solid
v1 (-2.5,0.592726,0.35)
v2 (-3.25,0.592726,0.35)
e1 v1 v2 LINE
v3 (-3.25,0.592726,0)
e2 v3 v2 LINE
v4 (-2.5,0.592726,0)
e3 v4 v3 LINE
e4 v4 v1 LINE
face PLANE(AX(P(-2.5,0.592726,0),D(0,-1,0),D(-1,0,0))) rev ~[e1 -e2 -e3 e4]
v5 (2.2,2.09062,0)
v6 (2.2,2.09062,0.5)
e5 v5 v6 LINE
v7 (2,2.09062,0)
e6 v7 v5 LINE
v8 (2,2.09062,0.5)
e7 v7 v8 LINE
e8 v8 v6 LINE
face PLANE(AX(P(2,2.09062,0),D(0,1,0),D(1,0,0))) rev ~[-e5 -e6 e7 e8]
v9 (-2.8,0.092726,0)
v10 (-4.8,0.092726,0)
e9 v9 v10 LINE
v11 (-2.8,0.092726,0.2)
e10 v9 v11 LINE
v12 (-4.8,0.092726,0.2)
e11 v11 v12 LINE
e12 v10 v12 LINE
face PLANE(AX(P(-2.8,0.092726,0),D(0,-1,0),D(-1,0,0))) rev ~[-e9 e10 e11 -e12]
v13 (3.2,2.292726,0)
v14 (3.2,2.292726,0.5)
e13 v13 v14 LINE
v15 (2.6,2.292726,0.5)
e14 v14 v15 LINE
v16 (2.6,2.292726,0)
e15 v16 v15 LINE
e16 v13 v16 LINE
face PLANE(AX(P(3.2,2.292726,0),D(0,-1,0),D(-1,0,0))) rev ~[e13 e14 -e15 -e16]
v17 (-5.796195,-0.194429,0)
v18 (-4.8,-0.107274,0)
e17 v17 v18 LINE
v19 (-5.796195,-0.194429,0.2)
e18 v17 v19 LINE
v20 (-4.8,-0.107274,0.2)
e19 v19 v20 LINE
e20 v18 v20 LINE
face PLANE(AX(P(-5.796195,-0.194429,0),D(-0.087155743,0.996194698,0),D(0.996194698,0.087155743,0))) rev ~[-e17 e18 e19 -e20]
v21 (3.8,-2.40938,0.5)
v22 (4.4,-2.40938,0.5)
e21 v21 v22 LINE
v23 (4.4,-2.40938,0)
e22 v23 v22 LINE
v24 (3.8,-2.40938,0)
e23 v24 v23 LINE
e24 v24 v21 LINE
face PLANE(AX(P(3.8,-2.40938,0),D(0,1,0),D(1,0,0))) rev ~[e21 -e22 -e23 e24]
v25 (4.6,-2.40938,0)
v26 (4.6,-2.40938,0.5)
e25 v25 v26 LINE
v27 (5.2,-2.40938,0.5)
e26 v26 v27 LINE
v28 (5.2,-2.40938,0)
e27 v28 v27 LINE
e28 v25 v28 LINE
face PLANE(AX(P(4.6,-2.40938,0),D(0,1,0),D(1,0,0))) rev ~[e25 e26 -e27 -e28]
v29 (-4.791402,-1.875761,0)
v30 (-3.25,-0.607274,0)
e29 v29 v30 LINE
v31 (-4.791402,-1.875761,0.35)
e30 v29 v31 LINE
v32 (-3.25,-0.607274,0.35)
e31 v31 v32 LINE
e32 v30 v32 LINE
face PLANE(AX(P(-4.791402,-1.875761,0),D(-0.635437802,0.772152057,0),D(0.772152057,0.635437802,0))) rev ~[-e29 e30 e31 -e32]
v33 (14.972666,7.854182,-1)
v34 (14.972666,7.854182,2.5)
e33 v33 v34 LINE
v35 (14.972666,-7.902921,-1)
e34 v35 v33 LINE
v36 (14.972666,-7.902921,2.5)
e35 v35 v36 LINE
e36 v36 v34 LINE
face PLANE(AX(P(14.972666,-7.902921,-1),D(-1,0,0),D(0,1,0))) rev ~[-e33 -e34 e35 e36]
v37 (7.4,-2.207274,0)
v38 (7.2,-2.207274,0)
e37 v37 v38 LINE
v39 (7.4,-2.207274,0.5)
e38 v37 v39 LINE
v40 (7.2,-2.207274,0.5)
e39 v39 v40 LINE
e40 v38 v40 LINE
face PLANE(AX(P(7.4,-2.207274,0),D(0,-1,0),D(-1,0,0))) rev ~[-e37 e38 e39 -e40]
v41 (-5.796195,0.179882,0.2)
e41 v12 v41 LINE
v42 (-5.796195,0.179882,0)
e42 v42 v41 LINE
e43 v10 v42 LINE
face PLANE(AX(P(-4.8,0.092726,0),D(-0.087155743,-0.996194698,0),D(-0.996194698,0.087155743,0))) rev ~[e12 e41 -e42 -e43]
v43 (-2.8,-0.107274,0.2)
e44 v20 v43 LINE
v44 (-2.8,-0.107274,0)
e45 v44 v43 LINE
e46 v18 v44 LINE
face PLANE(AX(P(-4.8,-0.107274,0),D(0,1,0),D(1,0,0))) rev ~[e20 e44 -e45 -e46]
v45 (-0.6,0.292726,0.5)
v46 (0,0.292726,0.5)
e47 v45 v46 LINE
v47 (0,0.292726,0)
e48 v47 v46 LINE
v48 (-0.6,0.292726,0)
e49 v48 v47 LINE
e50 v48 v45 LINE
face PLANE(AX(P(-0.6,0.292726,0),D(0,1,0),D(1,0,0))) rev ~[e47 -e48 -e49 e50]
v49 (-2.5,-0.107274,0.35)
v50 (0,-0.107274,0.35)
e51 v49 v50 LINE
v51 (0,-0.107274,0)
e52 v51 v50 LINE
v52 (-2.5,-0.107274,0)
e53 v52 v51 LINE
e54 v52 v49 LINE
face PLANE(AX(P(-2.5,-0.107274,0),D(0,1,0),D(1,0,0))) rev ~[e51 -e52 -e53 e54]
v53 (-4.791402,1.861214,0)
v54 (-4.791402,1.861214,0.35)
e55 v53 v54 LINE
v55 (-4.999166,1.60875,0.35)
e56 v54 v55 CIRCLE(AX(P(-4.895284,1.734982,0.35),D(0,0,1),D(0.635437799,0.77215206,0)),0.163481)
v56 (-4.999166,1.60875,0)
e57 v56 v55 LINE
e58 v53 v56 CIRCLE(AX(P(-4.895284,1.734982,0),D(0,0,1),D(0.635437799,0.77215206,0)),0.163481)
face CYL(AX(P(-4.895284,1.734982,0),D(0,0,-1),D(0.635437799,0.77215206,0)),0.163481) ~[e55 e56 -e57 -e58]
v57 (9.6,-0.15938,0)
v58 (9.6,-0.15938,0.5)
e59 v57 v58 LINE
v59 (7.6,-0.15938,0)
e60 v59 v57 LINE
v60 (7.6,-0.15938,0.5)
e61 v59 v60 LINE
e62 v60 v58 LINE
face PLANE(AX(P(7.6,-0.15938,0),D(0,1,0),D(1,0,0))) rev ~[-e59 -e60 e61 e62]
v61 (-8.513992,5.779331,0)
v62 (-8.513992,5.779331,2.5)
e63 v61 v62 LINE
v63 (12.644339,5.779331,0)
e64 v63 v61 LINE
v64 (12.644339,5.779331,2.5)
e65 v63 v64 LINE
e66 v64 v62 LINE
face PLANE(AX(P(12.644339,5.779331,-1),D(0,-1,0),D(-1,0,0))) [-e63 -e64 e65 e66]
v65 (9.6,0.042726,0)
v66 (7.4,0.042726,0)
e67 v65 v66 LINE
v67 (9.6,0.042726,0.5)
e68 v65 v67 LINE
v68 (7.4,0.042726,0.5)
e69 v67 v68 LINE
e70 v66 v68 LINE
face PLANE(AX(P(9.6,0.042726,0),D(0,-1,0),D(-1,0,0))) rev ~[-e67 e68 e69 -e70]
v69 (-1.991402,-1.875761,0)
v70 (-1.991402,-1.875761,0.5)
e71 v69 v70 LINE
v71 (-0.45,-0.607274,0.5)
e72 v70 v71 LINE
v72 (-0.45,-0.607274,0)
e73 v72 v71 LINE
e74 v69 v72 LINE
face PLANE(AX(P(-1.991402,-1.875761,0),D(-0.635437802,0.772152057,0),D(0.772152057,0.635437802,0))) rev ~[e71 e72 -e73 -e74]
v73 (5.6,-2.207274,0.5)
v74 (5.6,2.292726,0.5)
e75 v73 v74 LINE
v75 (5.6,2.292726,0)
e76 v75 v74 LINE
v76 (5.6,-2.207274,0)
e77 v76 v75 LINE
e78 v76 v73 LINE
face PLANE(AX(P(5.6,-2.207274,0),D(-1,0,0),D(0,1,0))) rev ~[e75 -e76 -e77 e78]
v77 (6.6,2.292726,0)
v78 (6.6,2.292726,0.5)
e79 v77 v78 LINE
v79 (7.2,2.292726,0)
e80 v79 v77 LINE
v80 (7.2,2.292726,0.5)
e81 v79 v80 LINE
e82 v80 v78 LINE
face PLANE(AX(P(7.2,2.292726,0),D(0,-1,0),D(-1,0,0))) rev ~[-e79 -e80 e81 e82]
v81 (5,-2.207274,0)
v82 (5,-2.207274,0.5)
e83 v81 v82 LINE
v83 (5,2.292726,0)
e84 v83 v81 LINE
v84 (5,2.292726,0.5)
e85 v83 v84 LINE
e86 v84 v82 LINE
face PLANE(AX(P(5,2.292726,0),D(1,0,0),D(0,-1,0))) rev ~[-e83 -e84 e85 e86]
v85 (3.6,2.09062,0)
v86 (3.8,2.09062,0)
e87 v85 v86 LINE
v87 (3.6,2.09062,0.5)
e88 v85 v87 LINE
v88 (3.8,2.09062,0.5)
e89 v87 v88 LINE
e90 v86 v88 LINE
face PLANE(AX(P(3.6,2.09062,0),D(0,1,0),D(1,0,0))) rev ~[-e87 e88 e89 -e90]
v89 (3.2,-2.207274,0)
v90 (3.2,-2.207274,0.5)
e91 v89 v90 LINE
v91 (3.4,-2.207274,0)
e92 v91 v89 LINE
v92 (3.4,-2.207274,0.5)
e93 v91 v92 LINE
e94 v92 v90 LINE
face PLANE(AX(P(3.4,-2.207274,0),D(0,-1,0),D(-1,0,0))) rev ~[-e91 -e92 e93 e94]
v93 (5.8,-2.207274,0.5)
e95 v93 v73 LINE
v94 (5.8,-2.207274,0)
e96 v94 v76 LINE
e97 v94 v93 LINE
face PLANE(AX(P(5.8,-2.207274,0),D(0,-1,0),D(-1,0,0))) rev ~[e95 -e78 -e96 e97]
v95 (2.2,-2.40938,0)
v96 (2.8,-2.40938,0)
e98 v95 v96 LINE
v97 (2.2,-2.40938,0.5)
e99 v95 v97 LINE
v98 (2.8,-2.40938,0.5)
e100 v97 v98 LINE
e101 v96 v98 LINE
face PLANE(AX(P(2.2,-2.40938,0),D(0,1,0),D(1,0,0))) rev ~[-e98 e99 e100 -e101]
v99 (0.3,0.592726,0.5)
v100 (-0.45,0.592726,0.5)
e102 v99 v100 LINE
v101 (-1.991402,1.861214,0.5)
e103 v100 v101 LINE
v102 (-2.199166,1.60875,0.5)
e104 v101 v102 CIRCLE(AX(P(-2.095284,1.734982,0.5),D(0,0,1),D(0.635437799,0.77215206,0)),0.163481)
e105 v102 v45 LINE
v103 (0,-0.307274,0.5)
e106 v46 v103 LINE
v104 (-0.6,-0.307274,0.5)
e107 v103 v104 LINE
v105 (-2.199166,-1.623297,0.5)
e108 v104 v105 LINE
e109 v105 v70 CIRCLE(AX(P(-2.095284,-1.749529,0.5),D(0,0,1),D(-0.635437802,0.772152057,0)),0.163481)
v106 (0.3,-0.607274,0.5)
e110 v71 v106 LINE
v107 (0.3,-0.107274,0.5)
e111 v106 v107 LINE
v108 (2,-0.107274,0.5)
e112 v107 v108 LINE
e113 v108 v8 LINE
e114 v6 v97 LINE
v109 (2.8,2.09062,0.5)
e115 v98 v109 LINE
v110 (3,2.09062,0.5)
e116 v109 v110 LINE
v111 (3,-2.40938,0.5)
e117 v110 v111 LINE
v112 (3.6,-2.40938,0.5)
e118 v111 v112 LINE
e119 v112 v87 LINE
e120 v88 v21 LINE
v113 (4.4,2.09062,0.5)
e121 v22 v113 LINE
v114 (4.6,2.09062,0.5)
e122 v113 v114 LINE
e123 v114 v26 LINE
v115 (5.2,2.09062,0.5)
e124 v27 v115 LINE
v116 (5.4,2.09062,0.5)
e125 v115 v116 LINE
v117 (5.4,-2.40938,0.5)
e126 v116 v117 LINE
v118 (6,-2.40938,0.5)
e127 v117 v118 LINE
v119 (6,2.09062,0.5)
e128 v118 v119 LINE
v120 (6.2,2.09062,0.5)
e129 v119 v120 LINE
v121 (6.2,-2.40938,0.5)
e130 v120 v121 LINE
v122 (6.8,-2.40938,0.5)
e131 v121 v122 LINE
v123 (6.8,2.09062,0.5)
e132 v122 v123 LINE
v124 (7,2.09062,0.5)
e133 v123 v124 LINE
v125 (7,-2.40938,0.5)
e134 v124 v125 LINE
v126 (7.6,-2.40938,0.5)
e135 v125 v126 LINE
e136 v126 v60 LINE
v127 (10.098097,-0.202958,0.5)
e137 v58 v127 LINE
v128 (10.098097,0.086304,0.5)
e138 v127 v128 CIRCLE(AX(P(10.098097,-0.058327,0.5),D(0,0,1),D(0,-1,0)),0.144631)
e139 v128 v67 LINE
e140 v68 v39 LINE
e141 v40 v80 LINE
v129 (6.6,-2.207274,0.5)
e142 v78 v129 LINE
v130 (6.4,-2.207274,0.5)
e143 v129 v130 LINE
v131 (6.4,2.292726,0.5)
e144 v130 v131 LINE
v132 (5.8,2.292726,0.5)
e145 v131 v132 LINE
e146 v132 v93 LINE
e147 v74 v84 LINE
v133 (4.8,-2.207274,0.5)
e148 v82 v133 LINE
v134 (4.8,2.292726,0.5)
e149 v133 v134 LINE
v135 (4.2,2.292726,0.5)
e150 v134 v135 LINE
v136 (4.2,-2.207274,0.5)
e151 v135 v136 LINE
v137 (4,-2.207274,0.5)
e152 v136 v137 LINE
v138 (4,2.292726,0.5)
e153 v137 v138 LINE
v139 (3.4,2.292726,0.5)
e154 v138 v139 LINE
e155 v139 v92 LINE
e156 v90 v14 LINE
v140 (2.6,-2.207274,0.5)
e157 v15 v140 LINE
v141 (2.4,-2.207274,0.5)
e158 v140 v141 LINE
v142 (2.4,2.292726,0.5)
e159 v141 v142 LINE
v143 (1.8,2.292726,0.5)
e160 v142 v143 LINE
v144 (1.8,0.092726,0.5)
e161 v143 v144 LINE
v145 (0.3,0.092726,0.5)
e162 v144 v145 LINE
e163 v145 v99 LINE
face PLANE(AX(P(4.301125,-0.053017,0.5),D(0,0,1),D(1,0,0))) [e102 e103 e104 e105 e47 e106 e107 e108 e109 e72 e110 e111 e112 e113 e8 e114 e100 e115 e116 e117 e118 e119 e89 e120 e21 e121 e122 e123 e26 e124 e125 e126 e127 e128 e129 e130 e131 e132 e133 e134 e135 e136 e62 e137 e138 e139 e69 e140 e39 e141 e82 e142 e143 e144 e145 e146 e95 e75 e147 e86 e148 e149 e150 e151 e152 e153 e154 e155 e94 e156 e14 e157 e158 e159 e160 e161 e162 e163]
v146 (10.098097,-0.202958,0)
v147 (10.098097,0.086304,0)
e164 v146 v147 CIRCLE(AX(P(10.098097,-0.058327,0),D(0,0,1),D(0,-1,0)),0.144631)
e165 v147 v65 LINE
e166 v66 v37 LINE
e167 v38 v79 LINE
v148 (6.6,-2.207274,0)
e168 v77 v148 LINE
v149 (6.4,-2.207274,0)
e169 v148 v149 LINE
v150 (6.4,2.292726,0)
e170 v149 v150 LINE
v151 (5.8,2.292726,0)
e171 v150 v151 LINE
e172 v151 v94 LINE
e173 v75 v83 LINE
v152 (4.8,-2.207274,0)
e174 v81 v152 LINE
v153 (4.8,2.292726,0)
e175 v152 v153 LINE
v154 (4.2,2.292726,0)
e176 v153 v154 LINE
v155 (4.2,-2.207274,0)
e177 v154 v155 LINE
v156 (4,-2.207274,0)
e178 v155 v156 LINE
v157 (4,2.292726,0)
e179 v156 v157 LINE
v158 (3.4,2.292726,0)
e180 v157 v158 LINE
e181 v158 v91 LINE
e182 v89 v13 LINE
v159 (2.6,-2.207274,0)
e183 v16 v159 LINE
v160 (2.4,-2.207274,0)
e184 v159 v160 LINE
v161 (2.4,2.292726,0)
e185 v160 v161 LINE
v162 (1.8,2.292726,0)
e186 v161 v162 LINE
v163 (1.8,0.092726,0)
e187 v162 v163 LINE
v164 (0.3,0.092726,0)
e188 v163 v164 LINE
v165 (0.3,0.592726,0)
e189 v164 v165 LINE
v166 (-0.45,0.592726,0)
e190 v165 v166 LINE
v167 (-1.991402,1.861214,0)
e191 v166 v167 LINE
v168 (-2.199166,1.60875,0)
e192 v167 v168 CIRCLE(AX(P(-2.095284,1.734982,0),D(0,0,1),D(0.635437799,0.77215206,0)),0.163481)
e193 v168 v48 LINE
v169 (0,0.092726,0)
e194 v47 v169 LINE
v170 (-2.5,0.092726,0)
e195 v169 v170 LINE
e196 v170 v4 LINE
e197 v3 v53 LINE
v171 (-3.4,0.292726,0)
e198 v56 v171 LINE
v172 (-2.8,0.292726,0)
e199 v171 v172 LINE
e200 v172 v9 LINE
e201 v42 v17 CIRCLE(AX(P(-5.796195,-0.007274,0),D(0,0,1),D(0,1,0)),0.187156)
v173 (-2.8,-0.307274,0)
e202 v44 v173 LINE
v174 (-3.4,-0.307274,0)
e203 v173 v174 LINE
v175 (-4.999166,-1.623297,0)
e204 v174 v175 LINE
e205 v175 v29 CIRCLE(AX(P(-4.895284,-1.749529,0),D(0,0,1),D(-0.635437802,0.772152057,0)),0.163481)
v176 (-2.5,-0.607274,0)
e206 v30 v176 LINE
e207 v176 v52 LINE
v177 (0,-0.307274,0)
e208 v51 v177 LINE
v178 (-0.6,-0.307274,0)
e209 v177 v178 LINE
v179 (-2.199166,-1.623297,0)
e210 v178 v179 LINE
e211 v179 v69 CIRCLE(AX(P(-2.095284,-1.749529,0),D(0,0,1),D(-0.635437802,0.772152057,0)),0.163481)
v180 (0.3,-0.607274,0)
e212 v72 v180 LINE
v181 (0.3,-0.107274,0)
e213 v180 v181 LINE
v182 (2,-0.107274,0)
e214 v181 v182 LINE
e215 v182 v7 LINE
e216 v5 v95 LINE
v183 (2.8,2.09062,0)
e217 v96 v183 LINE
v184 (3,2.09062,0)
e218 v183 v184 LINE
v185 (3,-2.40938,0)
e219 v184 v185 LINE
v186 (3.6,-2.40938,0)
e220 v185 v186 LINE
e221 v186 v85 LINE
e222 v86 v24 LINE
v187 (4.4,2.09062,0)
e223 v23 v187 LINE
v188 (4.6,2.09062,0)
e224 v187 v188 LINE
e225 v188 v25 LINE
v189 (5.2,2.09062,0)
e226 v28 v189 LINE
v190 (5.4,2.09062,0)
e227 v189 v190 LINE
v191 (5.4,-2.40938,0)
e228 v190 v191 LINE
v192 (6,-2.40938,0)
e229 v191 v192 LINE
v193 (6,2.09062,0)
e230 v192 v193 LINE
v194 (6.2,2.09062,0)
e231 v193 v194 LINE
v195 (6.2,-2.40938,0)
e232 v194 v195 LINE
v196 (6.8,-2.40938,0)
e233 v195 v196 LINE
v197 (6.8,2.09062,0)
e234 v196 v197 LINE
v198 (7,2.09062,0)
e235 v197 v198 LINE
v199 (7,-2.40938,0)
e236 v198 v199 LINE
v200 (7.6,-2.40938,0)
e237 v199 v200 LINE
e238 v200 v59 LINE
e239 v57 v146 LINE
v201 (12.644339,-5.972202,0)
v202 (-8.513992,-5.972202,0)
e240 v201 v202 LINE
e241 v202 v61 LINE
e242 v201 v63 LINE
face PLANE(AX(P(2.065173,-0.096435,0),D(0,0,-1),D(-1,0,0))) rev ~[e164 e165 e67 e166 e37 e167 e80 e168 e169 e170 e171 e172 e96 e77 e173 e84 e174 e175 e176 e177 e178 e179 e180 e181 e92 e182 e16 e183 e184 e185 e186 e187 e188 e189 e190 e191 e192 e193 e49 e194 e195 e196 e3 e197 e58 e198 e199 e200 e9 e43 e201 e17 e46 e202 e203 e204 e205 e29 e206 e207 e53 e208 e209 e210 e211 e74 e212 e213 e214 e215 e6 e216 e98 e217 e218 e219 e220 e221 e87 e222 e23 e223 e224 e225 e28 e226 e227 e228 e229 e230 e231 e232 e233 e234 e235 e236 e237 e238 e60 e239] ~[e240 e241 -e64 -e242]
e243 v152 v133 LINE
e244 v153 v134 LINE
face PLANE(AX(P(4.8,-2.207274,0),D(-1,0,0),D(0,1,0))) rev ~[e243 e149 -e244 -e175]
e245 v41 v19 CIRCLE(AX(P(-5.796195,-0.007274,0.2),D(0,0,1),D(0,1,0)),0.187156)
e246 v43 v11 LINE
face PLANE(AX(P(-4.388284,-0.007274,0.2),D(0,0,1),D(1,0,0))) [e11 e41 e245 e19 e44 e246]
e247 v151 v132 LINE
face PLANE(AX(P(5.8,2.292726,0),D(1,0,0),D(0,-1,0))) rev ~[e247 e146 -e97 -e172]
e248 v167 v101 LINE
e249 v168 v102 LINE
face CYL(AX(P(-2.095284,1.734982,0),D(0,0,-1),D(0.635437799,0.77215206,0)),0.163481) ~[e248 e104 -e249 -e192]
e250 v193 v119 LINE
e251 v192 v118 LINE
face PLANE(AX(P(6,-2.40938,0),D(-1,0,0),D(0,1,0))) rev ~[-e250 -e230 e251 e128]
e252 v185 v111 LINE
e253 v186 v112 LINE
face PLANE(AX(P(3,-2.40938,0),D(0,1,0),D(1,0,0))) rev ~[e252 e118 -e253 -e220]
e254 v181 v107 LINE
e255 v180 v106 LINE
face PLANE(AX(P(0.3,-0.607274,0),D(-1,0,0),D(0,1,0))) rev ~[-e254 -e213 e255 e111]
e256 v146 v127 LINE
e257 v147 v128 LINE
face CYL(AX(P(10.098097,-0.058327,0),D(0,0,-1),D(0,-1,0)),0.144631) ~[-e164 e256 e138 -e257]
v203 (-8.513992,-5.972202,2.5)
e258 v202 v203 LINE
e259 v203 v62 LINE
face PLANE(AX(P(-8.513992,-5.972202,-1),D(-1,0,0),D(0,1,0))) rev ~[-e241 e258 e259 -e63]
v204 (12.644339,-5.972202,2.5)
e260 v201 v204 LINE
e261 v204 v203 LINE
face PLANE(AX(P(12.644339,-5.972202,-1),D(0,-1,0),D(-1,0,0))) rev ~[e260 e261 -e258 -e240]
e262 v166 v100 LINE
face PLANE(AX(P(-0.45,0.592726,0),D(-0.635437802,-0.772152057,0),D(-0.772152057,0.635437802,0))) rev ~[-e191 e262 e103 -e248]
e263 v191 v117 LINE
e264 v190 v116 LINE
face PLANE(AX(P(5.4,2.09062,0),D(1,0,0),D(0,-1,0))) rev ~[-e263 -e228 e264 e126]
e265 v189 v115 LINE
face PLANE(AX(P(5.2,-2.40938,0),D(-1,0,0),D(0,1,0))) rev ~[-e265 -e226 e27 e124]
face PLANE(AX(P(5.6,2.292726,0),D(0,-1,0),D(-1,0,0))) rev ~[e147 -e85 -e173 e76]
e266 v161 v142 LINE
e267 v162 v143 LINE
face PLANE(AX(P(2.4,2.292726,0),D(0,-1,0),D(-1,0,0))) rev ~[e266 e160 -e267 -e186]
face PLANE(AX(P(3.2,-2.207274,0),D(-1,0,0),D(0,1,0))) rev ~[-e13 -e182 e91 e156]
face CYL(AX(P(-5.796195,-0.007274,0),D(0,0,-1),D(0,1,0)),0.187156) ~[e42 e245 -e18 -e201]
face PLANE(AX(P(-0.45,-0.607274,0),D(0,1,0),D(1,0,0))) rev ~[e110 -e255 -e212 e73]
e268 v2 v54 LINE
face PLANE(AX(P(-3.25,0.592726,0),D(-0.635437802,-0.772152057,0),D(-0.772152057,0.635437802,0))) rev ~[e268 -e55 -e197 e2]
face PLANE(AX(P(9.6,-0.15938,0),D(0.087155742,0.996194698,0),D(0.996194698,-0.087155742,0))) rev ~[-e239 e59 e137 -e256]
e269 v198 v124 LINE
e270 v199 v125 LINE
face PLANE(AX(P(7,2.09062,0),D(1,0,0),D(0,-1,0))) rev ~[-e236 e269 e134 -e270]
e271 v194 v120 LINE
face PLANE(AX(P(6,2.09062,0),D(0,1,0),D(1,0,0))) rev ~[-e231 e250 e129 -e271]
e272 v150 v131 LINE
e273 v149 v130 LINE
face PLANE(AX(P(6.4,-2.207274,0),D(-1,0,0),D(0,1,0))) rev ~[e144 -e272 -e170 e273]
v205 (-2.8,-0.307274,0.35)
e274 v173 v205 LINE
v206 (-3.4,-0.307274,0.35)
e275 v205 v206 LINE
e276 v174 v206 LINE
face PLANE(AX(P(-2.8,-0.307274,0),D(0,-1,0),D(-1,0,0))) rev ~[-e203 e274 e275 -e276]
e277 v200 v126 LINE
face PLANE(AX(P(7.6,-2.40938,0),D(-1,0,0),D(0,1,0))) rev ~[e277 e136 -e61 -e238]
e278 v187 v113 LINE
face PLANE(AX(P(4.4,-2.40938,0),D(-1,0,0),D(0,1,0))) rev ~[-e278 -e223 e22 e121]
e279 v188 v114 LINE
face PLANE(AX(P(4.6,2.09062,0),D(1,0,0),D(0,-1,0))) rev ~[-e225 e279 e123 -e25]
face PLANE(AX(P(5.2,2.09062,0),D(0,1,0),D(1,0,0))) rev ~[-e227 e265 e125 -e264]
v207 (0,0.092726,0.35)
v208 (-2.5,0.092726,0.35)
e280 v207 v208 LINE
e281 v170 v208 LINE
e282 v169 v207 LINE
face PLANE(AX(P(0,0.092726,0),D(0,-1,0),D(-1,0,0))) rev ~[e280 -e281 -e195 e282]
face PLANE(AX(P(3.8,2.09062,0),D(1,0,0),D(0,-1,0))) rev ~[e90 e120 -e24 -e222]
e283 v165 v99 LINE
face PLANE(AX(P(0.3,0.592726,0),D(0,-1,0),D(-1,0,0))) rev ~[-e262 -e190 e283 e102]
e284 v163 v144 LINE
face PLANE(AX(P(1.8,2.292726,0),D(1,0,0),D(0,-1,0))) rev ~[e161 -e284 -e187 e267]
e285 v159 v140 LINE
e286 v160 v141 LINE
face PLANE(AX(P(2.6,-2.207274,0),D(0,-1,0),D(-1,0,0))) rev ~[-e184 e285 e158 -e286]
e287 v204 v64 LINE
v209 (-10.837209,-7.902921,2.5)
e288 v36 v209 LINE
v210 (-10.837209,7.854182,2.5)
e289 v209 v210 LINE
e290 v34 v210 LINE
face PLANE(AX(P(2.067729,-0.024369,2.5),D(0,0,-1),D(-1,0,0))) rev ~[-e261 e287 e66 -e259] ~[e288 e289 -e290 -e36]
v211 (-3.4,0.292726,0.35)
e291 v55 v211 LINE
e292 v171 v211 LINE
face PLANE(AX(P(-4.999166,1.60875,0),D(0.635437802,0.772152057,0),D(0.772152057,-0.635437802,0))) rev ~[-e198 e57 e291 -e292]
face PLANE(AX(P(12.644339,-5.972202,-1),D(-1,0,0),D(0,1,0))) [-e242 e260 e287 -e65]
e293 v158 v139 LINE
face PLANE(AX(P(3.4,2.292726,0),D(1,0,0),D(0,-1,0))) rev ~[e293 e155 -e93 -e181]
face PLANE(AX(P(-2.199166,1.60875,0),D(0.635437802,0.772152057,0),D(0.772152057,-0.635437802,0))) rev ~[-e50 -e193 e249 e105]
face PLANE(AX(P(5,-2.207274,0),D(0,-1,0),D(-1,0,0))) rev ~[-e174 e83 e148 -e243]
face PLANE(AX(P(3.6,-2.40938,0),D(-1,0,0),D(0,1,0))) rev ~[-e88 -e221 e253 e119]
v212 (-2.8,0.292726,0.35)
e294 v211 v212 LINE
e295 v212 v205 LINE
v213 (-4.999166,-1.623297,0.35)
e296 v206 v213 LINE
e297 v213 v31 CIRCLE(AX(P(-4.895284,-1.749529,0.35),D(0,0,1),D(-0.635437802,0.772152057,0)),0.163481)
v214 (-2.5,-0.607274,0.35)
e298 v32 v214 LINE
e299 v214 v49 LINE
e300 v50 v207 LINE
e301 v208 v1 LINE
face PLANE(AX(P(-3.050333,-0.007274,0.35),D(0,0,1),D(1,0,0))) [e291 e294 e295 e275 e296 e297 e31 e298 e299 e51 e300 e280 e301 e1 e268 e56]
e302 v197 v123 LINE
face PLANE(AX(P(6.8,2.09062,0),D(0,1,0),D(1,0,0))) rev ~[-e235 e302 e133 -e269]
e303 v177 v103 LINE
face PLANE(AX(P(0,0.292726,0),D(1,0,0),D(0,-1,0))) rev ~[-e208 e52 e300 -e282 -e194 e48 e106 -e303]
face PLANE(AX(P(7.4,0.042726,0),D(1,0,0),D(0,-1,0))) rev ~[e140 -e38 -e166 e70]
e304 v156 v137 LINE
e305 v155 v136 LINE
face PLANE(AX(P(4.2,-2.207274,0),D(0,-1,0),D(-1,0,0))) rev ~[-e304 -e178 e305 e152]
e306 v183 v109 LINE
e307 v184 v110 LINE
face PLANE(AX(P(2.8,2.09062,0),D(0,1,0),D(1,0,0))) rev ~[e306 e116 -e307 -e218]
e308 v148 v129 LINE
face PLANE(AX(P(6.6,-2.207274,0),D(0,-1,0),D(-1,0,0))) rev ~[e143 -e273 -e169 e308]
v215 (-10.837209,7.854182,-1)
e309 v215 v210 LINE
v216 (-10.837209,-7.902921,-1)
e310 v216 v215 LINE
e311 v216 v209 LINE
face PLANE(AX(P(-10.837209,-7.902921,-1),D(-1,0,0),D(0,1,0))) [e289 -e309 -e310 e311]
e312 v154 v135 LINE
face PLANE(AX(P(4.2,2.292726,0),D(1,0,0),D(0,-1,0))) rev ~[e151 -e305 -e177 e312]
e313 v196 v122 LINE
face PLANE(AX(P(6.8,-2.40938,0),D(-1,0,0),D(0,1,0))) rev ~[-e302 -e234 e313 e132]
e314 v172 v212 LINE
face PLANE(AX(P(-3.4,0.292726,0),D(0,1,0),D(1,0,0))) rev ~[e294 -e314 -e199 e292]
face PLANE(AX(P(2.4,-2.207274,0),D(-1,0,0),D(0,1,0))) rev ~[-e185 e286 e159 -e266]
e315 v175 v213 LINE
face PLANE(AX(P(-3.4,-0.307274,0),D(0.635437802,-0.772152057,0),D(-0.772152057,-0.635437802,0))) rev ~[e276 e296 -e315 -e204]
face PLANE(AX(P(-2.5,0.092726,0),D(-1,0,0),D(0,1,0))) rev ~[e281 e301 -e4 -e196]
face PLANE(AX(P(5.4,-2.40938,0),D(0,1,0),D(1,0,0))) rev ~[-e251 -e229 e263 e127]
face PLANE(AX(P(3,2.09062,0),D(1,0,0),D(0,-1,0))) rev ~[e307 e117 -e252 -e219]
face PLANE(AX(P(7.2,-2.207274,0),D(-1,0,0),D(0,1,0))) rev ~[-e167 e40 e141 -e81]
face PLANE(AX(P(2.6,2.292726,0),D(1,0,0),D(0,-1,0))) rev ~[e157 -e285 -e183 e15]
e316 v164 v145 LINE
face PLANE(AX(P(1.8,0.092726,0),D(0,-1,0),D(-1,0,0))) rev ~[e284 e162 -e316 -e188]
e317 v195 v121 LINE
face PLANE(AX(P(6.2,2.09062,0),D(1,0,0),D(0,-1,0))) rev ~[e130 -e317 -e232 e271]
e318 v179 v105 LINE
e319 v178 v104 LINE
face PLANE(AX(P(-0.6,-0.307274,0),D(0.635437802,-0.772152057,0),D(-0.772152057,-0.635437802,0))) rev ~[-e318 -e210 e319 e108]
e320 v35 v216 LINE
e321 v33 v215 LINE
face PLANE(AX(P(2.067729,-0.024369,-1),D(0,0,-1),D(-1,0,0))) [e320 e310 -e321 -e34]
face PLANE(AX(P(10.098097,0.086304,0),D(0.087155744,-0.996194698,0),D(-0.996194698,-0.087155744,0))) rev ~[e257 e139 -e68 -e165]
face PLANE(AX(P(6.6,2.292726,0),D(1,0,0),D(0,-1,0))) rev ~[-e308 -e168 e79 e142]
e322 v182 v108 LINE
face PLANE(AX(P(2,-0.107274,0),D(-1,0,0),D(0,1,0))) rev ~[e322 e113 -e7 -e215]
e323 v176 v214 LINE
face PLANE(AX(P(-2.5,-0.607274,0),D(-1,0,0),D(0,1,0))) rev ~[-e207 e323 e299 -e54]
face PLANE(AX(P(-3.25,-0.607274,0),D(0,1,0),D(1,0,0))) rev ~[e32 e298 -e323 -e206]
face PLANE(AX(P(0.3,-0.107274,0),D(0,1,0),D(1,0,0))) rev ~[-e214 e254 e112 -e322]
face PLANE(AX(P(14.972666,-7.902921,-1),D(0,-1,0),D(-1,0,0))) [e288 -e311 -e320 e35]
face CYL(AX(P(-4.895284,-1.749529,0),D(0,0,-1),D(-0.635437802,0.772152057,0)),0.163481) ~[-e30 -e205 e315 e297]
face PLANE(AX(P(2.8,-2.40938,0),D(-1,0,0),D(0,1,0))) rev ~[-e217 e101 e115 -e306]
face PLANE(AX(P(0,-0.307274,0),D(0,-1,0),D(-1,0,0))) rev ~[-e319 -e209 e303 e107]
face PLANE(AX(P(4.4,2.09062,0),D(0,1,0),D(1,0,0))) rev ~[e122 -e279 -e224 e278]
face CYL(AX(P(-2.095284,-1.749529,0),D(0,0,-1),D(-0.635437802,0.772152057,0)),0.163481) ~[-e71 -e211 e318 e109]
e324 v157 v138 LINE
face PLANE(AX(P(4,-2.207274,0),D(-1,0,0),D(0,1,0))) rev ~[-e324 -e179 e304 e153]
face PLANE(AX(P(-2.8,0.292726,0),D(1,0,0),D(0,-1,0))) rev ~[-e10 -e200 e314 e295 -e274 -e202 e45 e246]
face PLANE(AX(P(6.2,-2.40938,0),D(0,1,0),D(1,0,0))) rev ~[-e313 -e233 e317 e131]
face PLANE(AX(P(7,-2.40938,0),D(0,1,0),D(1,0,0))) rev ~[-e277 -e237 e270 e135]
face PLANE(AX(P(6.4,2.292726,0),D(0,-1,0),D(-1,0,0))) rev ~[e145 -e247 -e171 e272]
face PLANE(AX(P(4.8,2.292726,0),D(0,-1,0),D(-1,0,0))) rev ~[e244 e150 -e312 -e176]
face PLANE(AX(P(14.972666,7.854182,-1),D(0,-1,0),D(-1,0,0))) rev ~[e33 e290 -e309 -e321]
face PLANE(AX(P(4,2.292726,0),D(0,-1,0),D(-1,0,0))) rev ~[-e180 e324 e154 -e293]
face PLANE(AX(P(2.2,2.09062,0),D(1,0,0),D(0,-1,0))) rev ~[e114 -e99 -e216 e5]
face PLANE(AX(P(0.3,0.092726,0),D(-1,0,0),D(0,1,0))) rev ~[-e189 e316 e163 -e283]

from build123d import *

# Parameters (mm, degrees)
BOSS_EXTRUDE4_DEPTH = 0.2
BOSS_EXTRUDE5_DEPTH = 0.35
BOSS_EXTRUDE6_DEPTH = 0.5
SKETCH5_W           = 21.158330311
SKETCH5_H           = 11.75153324
BOSS_EXTRUDE7_DEPTH = 1
SKETCH8_W           = 25.80987528
SKETCH8_H           = 15.757102731
SKETCH8_W_2         = 21.158330311
SKETCH8_H_2         = 11.75153324
BOSS_EXTRUDE8_DEPTH = 3.5


with BuildPart() as part:
    # Sketch1 → Boss-Extrude4 (new body)
    with BuildSketch(Plane.XY):
        with BuildLine():
            Line((-4.8, 0.09272626), (-5.796194698, 0.179882003))
            ThreePointArc((-5.796194698, 0.179882003), (-5.983350441, -0.00727374), (-5.796194698, -0.194429483))
            Line((-5.796194698, -0.194429483), (-4.8, -0.10727374))
            Line((-4.8, -0.10727374), (-2.8, -0.10727374))
            Line((-2.8, -0.10727374), (-2.8, 0.09272626))
            Line((-2.8, 0.09272626), (-4.8, 0.09272626))
        make_face()
    extrude(amount=BOSS_EXTRUDE4_DEPTH)

    # Sketch1<7> → Boss-Extrude5 (add)
    with BuildSketch(Plane.XY):
        with BuildLine():
            Line((-2.8, 0.29272626), (-2.8, 0.09272626))
            Line((-2.8, 0.09272626), (-2.8, -0.10727374))
            Line((-2.8, -0.10727374), (-2.8, -0.30727374))
            Line((-2.8, -0.30727374), (-3.4, -0.30727374))
            Line((-3.4, -0.30727374), (-4.999165526, -1.623297206))
            ThreePointArc((-4.999165526, -1.623297206), (-5.02151566, -1.853410903), (-4.791401964, -1.875761037))
            Line((-4.791401964, -1.875761037), (-3.25, -0.60727374))
            Line((-3.25, -0.60727374), (-2.5, -0.60727374))
            Line((-2.5, -0.60727374), (-2.5, -0.10727374))
            Line((-2.5, -0.10727374), (0, -0.10727374))
            Line((0, -0.10727374), (0, 0.09272626))
            Line((0, 0.09272626), (-2.5, 0.09272626))
            Line((-2.5, 0.09272626), (-2.5, 0.59272626))
            Line((-2.5, 0.59272626), (-3.25, 0.59272626))
            Line((-3.25, 0.59272626), (-4.791401964, 1.861213558))
            ThreePointArc((-4.791401964, 1.861213558), (-5.02151566, 1.838863423), (-4.999165526, 1.608749727))
            Line((-4.999165526, 1.608749727), (-3.4, 0.29272626))
            Line((-3.4, 0.29272626), (-2.8, 0.29272626))
        make_face()
    extrude(amount=BOSS_EXTRUDE5_DEPTH)

    # Sketch1<8> → Boss-Extrude6 (add)
    with BuildSketch(Plane.XY):
        with BuildLine():
            Line((0, 0.29272626), (0, -0.30727374))
            Line((0, -0.30727374), (-0.6, -0.30727374))
            Line((-0.6, -0.30727374), (-2.199165526, -1.623297206))
            ThreePointArc((-2.199165526, -1.623297206), (-2.22151566, -1.853410903), (-1.991401964, -1.875761037))
            Line((-1.991401964, -1.875761037), (-0.45, -0.60727374))
            Line((-0.45, -0.60727374), (0.3, -0.60727374))
            Line((0.3, -0.60727374), (0.3, -0.10727374))
            Line((0.3, -0.10727374), (2, -0.10727374))
            Line((2, -0.10727374), (2, 2.090619677))
            Line((2, 2.090619677), (2.2, 2.090619677))
            Line((2.2, 2.090619677), (2.2, -2.409380323))
            Line((2.2, -2.409380323), (2.8, -2.409380323))
            Line((2.8, -2.409380323), (2.8, 2.090619677))
            Line((2.8, 2.090619677), (3, 2.090619677))
            Line((3, 2.090619677), (3, -2.409380323))
            Line((3, -2.409380323), (3.6, -2.409380323))
            Line((3.6, -2.409380323), (3.6, 2.090619677))
            Line((3.6, 2.090619677), (3.8, 2.090619677))
            Line((3.8, 2.090619677), (3.8, -2.409380323))
            Line((3.8, -2.409380323), (4.4, -2.409380323))
            Line((4.4, -2.409380323), (4.4, 2.090619677))
            Line((4.4, 2.090619677), (4.6, 2.090619677))
            Line((4.6, 2.090619677), (4.6, -2.409380323))
            Line((4.6, -2.409380323), (5.2, -2.409380323))
            Line((5.2, -2.409380323), (5.2, 2.090619677))
            Line((5.2, 2.090619677), (5.4, 2.090619677))
            Line((5.4, 2.090619677), (5.4, -2.409380323))
            Line((5.4, -2.409380323), (6, -2.409380323))
            Line((6, -2.409380323), (6, 2.090619677))
            Line((6, 2.090619677), (6.2, 2.090619677))
            Line((6.2, 2.090619677), (6.2, -2.409380323))
            Line((6.2, -2.409380323), (6.8, -2.409380323))
            Line((6.8, -2.409380323), (6.8, 2.090619677))
            Line((6.8, 2.090619677), (7, 2.090619677))
            Line((7, 2.090619677), (7, -2.409380323))
            Line((7, -2.409380323), (7.6, -2.409380323))
            Line((7.6, -2.409380323), (7.6, -0.159380323))
            Line((7.6, -0.159380323), (9.6, -0.159380323))
            Line((9.6, -0.159380323), (10.098097349, -0.202958194))
            ThreePointArc((10.098097349, -0.202958194), (10.242728512, -0.058327031), (10.098097349, 0.086304132))
            Line((10.098097349, 0.086304132), (9.6, 0.04272626))
            Line((9.6, 0.04272626), (7.4, 0.04272626))
            Line((7.4, 0.04272626), (7.4, -2.20727374))
            Line((7.4, -2.20727374), (7.2, -2.20727374))
            Line((7.2, -2.20727374), (7.2, 2.29272626))
            Line((7.2, 2.29272626), (6.6, 2.29272626))
            Line((6.6, 2.29272626), (6.6, -2.20727374))
            Line((6.6, -2.20727374), (6.4, -2.20727374))
            Line((6.4, -2.20727374), (6.4, 2.29272626))
            Line((6.4, 2.29272626), (5.8, 2.29272626))
            Line((5.8, 2.29272626), (5.8, -2.20727374))
            Line((5.8, -2.20727374), (5.6, -2.20727374))
            Line((5.6, -2.20727374), (5.6, 2.29272626))
            Line((5.6, 2.29272626), (5, 2.29272626))
            Line((5, 2.29272626), (5, -2.20727374))
            Line((5, -2.20727374), (4.8, -2.20727374))
            Line((4.8, -2.20727374), (4.8, 2.29272626))
            Line((4.8, 2.29272626), (4.2, 2.29272626))
            Line((4.2, 2.29272626), (4.2, -2.20727374))
            Line((4.2, -2.20727374), (4, -2.20727374))
            Line((4, -2.20727374), (4, 2.29272626))
            Line((4, 2.29272626), (3.4, 2.29272626))
            Line((3.4, 2.29272626), (3.4, -2.20727374))
            Line((3.4, -2.20727374), (3.2, -2.20727374))
            Line((3.2, -2.20727374), (3.2, 2.29272626))
            Line((3.2, 2.29272626), (2.6, 2.29272626))
            Line((2.6, 2.29272626), (2.6, -2.20727374))
            Line((2.6, -2.20727374), (2.4, -2.20727374))
            Line((2.4, -2.20727374), (2.4, 2.29272626))
            Line((2.4, 2.29272626), (1.8, 2.29272626))
            Line((1.8, 2.29272626), (1.8, 0.09272626))
            Line((1.8, 0.09272626), (0.3, 0.09272626))
            Line((0.3, 0.09272626), (0.3, 0.59272626))
            Line((0.3, 0.59272626), (-0.45, 0.59272626))
            Line((-0.45, 0.59272626), (-1.991401964, 1.861213558))
            ThreePointArc((-1.991401964, 1.861213558), (-2.22151566, 1.838863423), (-2.199165526, 1.608749727))
            Line((-2.199165526, 1.608749727), (-0.6, 0.29272626))
            Line((-0.6, 0.29272626), (0, 0.29272626))
        make_face()
    extrude(amount=BOSS_EXTRUDE6_DEPTH)

    # Sketch5 → Boss-Extrude7 (add)
    with BuildSketch(Plane(origin=(0, 0, 0), x_dir=(-1, 0, 0), z_dir=(0, 0, -1))):
        with Locations((-2.065173388, -0.096435412)):
            Rectangle(SKETCH5_W, SKETCH5_H)
    extrude(amount=BOSS_EXTRUDE7_DEPTH)

    # Sketch8 → Boss-Extrude8 (add)
    with BuildSketch(Plane(origin=(0, 0, -1), x_dir=(-1, 0, 0), z_dir=(0, 0, -1))):
        with Locations((-2.067728751, -0.024369167)):
            Rectangle(SKETCH8_W, SKETCH8_H)
        with Locations((-2.065173388, -0.096435412)):
            Rectangle(SKETCH8_W_2, SKETCH8_H_2, mode=Mode.SUBTRACT)
    extrude(amount=-BOSS_EXTRUDE8_DEPTH)


solid = part.part
